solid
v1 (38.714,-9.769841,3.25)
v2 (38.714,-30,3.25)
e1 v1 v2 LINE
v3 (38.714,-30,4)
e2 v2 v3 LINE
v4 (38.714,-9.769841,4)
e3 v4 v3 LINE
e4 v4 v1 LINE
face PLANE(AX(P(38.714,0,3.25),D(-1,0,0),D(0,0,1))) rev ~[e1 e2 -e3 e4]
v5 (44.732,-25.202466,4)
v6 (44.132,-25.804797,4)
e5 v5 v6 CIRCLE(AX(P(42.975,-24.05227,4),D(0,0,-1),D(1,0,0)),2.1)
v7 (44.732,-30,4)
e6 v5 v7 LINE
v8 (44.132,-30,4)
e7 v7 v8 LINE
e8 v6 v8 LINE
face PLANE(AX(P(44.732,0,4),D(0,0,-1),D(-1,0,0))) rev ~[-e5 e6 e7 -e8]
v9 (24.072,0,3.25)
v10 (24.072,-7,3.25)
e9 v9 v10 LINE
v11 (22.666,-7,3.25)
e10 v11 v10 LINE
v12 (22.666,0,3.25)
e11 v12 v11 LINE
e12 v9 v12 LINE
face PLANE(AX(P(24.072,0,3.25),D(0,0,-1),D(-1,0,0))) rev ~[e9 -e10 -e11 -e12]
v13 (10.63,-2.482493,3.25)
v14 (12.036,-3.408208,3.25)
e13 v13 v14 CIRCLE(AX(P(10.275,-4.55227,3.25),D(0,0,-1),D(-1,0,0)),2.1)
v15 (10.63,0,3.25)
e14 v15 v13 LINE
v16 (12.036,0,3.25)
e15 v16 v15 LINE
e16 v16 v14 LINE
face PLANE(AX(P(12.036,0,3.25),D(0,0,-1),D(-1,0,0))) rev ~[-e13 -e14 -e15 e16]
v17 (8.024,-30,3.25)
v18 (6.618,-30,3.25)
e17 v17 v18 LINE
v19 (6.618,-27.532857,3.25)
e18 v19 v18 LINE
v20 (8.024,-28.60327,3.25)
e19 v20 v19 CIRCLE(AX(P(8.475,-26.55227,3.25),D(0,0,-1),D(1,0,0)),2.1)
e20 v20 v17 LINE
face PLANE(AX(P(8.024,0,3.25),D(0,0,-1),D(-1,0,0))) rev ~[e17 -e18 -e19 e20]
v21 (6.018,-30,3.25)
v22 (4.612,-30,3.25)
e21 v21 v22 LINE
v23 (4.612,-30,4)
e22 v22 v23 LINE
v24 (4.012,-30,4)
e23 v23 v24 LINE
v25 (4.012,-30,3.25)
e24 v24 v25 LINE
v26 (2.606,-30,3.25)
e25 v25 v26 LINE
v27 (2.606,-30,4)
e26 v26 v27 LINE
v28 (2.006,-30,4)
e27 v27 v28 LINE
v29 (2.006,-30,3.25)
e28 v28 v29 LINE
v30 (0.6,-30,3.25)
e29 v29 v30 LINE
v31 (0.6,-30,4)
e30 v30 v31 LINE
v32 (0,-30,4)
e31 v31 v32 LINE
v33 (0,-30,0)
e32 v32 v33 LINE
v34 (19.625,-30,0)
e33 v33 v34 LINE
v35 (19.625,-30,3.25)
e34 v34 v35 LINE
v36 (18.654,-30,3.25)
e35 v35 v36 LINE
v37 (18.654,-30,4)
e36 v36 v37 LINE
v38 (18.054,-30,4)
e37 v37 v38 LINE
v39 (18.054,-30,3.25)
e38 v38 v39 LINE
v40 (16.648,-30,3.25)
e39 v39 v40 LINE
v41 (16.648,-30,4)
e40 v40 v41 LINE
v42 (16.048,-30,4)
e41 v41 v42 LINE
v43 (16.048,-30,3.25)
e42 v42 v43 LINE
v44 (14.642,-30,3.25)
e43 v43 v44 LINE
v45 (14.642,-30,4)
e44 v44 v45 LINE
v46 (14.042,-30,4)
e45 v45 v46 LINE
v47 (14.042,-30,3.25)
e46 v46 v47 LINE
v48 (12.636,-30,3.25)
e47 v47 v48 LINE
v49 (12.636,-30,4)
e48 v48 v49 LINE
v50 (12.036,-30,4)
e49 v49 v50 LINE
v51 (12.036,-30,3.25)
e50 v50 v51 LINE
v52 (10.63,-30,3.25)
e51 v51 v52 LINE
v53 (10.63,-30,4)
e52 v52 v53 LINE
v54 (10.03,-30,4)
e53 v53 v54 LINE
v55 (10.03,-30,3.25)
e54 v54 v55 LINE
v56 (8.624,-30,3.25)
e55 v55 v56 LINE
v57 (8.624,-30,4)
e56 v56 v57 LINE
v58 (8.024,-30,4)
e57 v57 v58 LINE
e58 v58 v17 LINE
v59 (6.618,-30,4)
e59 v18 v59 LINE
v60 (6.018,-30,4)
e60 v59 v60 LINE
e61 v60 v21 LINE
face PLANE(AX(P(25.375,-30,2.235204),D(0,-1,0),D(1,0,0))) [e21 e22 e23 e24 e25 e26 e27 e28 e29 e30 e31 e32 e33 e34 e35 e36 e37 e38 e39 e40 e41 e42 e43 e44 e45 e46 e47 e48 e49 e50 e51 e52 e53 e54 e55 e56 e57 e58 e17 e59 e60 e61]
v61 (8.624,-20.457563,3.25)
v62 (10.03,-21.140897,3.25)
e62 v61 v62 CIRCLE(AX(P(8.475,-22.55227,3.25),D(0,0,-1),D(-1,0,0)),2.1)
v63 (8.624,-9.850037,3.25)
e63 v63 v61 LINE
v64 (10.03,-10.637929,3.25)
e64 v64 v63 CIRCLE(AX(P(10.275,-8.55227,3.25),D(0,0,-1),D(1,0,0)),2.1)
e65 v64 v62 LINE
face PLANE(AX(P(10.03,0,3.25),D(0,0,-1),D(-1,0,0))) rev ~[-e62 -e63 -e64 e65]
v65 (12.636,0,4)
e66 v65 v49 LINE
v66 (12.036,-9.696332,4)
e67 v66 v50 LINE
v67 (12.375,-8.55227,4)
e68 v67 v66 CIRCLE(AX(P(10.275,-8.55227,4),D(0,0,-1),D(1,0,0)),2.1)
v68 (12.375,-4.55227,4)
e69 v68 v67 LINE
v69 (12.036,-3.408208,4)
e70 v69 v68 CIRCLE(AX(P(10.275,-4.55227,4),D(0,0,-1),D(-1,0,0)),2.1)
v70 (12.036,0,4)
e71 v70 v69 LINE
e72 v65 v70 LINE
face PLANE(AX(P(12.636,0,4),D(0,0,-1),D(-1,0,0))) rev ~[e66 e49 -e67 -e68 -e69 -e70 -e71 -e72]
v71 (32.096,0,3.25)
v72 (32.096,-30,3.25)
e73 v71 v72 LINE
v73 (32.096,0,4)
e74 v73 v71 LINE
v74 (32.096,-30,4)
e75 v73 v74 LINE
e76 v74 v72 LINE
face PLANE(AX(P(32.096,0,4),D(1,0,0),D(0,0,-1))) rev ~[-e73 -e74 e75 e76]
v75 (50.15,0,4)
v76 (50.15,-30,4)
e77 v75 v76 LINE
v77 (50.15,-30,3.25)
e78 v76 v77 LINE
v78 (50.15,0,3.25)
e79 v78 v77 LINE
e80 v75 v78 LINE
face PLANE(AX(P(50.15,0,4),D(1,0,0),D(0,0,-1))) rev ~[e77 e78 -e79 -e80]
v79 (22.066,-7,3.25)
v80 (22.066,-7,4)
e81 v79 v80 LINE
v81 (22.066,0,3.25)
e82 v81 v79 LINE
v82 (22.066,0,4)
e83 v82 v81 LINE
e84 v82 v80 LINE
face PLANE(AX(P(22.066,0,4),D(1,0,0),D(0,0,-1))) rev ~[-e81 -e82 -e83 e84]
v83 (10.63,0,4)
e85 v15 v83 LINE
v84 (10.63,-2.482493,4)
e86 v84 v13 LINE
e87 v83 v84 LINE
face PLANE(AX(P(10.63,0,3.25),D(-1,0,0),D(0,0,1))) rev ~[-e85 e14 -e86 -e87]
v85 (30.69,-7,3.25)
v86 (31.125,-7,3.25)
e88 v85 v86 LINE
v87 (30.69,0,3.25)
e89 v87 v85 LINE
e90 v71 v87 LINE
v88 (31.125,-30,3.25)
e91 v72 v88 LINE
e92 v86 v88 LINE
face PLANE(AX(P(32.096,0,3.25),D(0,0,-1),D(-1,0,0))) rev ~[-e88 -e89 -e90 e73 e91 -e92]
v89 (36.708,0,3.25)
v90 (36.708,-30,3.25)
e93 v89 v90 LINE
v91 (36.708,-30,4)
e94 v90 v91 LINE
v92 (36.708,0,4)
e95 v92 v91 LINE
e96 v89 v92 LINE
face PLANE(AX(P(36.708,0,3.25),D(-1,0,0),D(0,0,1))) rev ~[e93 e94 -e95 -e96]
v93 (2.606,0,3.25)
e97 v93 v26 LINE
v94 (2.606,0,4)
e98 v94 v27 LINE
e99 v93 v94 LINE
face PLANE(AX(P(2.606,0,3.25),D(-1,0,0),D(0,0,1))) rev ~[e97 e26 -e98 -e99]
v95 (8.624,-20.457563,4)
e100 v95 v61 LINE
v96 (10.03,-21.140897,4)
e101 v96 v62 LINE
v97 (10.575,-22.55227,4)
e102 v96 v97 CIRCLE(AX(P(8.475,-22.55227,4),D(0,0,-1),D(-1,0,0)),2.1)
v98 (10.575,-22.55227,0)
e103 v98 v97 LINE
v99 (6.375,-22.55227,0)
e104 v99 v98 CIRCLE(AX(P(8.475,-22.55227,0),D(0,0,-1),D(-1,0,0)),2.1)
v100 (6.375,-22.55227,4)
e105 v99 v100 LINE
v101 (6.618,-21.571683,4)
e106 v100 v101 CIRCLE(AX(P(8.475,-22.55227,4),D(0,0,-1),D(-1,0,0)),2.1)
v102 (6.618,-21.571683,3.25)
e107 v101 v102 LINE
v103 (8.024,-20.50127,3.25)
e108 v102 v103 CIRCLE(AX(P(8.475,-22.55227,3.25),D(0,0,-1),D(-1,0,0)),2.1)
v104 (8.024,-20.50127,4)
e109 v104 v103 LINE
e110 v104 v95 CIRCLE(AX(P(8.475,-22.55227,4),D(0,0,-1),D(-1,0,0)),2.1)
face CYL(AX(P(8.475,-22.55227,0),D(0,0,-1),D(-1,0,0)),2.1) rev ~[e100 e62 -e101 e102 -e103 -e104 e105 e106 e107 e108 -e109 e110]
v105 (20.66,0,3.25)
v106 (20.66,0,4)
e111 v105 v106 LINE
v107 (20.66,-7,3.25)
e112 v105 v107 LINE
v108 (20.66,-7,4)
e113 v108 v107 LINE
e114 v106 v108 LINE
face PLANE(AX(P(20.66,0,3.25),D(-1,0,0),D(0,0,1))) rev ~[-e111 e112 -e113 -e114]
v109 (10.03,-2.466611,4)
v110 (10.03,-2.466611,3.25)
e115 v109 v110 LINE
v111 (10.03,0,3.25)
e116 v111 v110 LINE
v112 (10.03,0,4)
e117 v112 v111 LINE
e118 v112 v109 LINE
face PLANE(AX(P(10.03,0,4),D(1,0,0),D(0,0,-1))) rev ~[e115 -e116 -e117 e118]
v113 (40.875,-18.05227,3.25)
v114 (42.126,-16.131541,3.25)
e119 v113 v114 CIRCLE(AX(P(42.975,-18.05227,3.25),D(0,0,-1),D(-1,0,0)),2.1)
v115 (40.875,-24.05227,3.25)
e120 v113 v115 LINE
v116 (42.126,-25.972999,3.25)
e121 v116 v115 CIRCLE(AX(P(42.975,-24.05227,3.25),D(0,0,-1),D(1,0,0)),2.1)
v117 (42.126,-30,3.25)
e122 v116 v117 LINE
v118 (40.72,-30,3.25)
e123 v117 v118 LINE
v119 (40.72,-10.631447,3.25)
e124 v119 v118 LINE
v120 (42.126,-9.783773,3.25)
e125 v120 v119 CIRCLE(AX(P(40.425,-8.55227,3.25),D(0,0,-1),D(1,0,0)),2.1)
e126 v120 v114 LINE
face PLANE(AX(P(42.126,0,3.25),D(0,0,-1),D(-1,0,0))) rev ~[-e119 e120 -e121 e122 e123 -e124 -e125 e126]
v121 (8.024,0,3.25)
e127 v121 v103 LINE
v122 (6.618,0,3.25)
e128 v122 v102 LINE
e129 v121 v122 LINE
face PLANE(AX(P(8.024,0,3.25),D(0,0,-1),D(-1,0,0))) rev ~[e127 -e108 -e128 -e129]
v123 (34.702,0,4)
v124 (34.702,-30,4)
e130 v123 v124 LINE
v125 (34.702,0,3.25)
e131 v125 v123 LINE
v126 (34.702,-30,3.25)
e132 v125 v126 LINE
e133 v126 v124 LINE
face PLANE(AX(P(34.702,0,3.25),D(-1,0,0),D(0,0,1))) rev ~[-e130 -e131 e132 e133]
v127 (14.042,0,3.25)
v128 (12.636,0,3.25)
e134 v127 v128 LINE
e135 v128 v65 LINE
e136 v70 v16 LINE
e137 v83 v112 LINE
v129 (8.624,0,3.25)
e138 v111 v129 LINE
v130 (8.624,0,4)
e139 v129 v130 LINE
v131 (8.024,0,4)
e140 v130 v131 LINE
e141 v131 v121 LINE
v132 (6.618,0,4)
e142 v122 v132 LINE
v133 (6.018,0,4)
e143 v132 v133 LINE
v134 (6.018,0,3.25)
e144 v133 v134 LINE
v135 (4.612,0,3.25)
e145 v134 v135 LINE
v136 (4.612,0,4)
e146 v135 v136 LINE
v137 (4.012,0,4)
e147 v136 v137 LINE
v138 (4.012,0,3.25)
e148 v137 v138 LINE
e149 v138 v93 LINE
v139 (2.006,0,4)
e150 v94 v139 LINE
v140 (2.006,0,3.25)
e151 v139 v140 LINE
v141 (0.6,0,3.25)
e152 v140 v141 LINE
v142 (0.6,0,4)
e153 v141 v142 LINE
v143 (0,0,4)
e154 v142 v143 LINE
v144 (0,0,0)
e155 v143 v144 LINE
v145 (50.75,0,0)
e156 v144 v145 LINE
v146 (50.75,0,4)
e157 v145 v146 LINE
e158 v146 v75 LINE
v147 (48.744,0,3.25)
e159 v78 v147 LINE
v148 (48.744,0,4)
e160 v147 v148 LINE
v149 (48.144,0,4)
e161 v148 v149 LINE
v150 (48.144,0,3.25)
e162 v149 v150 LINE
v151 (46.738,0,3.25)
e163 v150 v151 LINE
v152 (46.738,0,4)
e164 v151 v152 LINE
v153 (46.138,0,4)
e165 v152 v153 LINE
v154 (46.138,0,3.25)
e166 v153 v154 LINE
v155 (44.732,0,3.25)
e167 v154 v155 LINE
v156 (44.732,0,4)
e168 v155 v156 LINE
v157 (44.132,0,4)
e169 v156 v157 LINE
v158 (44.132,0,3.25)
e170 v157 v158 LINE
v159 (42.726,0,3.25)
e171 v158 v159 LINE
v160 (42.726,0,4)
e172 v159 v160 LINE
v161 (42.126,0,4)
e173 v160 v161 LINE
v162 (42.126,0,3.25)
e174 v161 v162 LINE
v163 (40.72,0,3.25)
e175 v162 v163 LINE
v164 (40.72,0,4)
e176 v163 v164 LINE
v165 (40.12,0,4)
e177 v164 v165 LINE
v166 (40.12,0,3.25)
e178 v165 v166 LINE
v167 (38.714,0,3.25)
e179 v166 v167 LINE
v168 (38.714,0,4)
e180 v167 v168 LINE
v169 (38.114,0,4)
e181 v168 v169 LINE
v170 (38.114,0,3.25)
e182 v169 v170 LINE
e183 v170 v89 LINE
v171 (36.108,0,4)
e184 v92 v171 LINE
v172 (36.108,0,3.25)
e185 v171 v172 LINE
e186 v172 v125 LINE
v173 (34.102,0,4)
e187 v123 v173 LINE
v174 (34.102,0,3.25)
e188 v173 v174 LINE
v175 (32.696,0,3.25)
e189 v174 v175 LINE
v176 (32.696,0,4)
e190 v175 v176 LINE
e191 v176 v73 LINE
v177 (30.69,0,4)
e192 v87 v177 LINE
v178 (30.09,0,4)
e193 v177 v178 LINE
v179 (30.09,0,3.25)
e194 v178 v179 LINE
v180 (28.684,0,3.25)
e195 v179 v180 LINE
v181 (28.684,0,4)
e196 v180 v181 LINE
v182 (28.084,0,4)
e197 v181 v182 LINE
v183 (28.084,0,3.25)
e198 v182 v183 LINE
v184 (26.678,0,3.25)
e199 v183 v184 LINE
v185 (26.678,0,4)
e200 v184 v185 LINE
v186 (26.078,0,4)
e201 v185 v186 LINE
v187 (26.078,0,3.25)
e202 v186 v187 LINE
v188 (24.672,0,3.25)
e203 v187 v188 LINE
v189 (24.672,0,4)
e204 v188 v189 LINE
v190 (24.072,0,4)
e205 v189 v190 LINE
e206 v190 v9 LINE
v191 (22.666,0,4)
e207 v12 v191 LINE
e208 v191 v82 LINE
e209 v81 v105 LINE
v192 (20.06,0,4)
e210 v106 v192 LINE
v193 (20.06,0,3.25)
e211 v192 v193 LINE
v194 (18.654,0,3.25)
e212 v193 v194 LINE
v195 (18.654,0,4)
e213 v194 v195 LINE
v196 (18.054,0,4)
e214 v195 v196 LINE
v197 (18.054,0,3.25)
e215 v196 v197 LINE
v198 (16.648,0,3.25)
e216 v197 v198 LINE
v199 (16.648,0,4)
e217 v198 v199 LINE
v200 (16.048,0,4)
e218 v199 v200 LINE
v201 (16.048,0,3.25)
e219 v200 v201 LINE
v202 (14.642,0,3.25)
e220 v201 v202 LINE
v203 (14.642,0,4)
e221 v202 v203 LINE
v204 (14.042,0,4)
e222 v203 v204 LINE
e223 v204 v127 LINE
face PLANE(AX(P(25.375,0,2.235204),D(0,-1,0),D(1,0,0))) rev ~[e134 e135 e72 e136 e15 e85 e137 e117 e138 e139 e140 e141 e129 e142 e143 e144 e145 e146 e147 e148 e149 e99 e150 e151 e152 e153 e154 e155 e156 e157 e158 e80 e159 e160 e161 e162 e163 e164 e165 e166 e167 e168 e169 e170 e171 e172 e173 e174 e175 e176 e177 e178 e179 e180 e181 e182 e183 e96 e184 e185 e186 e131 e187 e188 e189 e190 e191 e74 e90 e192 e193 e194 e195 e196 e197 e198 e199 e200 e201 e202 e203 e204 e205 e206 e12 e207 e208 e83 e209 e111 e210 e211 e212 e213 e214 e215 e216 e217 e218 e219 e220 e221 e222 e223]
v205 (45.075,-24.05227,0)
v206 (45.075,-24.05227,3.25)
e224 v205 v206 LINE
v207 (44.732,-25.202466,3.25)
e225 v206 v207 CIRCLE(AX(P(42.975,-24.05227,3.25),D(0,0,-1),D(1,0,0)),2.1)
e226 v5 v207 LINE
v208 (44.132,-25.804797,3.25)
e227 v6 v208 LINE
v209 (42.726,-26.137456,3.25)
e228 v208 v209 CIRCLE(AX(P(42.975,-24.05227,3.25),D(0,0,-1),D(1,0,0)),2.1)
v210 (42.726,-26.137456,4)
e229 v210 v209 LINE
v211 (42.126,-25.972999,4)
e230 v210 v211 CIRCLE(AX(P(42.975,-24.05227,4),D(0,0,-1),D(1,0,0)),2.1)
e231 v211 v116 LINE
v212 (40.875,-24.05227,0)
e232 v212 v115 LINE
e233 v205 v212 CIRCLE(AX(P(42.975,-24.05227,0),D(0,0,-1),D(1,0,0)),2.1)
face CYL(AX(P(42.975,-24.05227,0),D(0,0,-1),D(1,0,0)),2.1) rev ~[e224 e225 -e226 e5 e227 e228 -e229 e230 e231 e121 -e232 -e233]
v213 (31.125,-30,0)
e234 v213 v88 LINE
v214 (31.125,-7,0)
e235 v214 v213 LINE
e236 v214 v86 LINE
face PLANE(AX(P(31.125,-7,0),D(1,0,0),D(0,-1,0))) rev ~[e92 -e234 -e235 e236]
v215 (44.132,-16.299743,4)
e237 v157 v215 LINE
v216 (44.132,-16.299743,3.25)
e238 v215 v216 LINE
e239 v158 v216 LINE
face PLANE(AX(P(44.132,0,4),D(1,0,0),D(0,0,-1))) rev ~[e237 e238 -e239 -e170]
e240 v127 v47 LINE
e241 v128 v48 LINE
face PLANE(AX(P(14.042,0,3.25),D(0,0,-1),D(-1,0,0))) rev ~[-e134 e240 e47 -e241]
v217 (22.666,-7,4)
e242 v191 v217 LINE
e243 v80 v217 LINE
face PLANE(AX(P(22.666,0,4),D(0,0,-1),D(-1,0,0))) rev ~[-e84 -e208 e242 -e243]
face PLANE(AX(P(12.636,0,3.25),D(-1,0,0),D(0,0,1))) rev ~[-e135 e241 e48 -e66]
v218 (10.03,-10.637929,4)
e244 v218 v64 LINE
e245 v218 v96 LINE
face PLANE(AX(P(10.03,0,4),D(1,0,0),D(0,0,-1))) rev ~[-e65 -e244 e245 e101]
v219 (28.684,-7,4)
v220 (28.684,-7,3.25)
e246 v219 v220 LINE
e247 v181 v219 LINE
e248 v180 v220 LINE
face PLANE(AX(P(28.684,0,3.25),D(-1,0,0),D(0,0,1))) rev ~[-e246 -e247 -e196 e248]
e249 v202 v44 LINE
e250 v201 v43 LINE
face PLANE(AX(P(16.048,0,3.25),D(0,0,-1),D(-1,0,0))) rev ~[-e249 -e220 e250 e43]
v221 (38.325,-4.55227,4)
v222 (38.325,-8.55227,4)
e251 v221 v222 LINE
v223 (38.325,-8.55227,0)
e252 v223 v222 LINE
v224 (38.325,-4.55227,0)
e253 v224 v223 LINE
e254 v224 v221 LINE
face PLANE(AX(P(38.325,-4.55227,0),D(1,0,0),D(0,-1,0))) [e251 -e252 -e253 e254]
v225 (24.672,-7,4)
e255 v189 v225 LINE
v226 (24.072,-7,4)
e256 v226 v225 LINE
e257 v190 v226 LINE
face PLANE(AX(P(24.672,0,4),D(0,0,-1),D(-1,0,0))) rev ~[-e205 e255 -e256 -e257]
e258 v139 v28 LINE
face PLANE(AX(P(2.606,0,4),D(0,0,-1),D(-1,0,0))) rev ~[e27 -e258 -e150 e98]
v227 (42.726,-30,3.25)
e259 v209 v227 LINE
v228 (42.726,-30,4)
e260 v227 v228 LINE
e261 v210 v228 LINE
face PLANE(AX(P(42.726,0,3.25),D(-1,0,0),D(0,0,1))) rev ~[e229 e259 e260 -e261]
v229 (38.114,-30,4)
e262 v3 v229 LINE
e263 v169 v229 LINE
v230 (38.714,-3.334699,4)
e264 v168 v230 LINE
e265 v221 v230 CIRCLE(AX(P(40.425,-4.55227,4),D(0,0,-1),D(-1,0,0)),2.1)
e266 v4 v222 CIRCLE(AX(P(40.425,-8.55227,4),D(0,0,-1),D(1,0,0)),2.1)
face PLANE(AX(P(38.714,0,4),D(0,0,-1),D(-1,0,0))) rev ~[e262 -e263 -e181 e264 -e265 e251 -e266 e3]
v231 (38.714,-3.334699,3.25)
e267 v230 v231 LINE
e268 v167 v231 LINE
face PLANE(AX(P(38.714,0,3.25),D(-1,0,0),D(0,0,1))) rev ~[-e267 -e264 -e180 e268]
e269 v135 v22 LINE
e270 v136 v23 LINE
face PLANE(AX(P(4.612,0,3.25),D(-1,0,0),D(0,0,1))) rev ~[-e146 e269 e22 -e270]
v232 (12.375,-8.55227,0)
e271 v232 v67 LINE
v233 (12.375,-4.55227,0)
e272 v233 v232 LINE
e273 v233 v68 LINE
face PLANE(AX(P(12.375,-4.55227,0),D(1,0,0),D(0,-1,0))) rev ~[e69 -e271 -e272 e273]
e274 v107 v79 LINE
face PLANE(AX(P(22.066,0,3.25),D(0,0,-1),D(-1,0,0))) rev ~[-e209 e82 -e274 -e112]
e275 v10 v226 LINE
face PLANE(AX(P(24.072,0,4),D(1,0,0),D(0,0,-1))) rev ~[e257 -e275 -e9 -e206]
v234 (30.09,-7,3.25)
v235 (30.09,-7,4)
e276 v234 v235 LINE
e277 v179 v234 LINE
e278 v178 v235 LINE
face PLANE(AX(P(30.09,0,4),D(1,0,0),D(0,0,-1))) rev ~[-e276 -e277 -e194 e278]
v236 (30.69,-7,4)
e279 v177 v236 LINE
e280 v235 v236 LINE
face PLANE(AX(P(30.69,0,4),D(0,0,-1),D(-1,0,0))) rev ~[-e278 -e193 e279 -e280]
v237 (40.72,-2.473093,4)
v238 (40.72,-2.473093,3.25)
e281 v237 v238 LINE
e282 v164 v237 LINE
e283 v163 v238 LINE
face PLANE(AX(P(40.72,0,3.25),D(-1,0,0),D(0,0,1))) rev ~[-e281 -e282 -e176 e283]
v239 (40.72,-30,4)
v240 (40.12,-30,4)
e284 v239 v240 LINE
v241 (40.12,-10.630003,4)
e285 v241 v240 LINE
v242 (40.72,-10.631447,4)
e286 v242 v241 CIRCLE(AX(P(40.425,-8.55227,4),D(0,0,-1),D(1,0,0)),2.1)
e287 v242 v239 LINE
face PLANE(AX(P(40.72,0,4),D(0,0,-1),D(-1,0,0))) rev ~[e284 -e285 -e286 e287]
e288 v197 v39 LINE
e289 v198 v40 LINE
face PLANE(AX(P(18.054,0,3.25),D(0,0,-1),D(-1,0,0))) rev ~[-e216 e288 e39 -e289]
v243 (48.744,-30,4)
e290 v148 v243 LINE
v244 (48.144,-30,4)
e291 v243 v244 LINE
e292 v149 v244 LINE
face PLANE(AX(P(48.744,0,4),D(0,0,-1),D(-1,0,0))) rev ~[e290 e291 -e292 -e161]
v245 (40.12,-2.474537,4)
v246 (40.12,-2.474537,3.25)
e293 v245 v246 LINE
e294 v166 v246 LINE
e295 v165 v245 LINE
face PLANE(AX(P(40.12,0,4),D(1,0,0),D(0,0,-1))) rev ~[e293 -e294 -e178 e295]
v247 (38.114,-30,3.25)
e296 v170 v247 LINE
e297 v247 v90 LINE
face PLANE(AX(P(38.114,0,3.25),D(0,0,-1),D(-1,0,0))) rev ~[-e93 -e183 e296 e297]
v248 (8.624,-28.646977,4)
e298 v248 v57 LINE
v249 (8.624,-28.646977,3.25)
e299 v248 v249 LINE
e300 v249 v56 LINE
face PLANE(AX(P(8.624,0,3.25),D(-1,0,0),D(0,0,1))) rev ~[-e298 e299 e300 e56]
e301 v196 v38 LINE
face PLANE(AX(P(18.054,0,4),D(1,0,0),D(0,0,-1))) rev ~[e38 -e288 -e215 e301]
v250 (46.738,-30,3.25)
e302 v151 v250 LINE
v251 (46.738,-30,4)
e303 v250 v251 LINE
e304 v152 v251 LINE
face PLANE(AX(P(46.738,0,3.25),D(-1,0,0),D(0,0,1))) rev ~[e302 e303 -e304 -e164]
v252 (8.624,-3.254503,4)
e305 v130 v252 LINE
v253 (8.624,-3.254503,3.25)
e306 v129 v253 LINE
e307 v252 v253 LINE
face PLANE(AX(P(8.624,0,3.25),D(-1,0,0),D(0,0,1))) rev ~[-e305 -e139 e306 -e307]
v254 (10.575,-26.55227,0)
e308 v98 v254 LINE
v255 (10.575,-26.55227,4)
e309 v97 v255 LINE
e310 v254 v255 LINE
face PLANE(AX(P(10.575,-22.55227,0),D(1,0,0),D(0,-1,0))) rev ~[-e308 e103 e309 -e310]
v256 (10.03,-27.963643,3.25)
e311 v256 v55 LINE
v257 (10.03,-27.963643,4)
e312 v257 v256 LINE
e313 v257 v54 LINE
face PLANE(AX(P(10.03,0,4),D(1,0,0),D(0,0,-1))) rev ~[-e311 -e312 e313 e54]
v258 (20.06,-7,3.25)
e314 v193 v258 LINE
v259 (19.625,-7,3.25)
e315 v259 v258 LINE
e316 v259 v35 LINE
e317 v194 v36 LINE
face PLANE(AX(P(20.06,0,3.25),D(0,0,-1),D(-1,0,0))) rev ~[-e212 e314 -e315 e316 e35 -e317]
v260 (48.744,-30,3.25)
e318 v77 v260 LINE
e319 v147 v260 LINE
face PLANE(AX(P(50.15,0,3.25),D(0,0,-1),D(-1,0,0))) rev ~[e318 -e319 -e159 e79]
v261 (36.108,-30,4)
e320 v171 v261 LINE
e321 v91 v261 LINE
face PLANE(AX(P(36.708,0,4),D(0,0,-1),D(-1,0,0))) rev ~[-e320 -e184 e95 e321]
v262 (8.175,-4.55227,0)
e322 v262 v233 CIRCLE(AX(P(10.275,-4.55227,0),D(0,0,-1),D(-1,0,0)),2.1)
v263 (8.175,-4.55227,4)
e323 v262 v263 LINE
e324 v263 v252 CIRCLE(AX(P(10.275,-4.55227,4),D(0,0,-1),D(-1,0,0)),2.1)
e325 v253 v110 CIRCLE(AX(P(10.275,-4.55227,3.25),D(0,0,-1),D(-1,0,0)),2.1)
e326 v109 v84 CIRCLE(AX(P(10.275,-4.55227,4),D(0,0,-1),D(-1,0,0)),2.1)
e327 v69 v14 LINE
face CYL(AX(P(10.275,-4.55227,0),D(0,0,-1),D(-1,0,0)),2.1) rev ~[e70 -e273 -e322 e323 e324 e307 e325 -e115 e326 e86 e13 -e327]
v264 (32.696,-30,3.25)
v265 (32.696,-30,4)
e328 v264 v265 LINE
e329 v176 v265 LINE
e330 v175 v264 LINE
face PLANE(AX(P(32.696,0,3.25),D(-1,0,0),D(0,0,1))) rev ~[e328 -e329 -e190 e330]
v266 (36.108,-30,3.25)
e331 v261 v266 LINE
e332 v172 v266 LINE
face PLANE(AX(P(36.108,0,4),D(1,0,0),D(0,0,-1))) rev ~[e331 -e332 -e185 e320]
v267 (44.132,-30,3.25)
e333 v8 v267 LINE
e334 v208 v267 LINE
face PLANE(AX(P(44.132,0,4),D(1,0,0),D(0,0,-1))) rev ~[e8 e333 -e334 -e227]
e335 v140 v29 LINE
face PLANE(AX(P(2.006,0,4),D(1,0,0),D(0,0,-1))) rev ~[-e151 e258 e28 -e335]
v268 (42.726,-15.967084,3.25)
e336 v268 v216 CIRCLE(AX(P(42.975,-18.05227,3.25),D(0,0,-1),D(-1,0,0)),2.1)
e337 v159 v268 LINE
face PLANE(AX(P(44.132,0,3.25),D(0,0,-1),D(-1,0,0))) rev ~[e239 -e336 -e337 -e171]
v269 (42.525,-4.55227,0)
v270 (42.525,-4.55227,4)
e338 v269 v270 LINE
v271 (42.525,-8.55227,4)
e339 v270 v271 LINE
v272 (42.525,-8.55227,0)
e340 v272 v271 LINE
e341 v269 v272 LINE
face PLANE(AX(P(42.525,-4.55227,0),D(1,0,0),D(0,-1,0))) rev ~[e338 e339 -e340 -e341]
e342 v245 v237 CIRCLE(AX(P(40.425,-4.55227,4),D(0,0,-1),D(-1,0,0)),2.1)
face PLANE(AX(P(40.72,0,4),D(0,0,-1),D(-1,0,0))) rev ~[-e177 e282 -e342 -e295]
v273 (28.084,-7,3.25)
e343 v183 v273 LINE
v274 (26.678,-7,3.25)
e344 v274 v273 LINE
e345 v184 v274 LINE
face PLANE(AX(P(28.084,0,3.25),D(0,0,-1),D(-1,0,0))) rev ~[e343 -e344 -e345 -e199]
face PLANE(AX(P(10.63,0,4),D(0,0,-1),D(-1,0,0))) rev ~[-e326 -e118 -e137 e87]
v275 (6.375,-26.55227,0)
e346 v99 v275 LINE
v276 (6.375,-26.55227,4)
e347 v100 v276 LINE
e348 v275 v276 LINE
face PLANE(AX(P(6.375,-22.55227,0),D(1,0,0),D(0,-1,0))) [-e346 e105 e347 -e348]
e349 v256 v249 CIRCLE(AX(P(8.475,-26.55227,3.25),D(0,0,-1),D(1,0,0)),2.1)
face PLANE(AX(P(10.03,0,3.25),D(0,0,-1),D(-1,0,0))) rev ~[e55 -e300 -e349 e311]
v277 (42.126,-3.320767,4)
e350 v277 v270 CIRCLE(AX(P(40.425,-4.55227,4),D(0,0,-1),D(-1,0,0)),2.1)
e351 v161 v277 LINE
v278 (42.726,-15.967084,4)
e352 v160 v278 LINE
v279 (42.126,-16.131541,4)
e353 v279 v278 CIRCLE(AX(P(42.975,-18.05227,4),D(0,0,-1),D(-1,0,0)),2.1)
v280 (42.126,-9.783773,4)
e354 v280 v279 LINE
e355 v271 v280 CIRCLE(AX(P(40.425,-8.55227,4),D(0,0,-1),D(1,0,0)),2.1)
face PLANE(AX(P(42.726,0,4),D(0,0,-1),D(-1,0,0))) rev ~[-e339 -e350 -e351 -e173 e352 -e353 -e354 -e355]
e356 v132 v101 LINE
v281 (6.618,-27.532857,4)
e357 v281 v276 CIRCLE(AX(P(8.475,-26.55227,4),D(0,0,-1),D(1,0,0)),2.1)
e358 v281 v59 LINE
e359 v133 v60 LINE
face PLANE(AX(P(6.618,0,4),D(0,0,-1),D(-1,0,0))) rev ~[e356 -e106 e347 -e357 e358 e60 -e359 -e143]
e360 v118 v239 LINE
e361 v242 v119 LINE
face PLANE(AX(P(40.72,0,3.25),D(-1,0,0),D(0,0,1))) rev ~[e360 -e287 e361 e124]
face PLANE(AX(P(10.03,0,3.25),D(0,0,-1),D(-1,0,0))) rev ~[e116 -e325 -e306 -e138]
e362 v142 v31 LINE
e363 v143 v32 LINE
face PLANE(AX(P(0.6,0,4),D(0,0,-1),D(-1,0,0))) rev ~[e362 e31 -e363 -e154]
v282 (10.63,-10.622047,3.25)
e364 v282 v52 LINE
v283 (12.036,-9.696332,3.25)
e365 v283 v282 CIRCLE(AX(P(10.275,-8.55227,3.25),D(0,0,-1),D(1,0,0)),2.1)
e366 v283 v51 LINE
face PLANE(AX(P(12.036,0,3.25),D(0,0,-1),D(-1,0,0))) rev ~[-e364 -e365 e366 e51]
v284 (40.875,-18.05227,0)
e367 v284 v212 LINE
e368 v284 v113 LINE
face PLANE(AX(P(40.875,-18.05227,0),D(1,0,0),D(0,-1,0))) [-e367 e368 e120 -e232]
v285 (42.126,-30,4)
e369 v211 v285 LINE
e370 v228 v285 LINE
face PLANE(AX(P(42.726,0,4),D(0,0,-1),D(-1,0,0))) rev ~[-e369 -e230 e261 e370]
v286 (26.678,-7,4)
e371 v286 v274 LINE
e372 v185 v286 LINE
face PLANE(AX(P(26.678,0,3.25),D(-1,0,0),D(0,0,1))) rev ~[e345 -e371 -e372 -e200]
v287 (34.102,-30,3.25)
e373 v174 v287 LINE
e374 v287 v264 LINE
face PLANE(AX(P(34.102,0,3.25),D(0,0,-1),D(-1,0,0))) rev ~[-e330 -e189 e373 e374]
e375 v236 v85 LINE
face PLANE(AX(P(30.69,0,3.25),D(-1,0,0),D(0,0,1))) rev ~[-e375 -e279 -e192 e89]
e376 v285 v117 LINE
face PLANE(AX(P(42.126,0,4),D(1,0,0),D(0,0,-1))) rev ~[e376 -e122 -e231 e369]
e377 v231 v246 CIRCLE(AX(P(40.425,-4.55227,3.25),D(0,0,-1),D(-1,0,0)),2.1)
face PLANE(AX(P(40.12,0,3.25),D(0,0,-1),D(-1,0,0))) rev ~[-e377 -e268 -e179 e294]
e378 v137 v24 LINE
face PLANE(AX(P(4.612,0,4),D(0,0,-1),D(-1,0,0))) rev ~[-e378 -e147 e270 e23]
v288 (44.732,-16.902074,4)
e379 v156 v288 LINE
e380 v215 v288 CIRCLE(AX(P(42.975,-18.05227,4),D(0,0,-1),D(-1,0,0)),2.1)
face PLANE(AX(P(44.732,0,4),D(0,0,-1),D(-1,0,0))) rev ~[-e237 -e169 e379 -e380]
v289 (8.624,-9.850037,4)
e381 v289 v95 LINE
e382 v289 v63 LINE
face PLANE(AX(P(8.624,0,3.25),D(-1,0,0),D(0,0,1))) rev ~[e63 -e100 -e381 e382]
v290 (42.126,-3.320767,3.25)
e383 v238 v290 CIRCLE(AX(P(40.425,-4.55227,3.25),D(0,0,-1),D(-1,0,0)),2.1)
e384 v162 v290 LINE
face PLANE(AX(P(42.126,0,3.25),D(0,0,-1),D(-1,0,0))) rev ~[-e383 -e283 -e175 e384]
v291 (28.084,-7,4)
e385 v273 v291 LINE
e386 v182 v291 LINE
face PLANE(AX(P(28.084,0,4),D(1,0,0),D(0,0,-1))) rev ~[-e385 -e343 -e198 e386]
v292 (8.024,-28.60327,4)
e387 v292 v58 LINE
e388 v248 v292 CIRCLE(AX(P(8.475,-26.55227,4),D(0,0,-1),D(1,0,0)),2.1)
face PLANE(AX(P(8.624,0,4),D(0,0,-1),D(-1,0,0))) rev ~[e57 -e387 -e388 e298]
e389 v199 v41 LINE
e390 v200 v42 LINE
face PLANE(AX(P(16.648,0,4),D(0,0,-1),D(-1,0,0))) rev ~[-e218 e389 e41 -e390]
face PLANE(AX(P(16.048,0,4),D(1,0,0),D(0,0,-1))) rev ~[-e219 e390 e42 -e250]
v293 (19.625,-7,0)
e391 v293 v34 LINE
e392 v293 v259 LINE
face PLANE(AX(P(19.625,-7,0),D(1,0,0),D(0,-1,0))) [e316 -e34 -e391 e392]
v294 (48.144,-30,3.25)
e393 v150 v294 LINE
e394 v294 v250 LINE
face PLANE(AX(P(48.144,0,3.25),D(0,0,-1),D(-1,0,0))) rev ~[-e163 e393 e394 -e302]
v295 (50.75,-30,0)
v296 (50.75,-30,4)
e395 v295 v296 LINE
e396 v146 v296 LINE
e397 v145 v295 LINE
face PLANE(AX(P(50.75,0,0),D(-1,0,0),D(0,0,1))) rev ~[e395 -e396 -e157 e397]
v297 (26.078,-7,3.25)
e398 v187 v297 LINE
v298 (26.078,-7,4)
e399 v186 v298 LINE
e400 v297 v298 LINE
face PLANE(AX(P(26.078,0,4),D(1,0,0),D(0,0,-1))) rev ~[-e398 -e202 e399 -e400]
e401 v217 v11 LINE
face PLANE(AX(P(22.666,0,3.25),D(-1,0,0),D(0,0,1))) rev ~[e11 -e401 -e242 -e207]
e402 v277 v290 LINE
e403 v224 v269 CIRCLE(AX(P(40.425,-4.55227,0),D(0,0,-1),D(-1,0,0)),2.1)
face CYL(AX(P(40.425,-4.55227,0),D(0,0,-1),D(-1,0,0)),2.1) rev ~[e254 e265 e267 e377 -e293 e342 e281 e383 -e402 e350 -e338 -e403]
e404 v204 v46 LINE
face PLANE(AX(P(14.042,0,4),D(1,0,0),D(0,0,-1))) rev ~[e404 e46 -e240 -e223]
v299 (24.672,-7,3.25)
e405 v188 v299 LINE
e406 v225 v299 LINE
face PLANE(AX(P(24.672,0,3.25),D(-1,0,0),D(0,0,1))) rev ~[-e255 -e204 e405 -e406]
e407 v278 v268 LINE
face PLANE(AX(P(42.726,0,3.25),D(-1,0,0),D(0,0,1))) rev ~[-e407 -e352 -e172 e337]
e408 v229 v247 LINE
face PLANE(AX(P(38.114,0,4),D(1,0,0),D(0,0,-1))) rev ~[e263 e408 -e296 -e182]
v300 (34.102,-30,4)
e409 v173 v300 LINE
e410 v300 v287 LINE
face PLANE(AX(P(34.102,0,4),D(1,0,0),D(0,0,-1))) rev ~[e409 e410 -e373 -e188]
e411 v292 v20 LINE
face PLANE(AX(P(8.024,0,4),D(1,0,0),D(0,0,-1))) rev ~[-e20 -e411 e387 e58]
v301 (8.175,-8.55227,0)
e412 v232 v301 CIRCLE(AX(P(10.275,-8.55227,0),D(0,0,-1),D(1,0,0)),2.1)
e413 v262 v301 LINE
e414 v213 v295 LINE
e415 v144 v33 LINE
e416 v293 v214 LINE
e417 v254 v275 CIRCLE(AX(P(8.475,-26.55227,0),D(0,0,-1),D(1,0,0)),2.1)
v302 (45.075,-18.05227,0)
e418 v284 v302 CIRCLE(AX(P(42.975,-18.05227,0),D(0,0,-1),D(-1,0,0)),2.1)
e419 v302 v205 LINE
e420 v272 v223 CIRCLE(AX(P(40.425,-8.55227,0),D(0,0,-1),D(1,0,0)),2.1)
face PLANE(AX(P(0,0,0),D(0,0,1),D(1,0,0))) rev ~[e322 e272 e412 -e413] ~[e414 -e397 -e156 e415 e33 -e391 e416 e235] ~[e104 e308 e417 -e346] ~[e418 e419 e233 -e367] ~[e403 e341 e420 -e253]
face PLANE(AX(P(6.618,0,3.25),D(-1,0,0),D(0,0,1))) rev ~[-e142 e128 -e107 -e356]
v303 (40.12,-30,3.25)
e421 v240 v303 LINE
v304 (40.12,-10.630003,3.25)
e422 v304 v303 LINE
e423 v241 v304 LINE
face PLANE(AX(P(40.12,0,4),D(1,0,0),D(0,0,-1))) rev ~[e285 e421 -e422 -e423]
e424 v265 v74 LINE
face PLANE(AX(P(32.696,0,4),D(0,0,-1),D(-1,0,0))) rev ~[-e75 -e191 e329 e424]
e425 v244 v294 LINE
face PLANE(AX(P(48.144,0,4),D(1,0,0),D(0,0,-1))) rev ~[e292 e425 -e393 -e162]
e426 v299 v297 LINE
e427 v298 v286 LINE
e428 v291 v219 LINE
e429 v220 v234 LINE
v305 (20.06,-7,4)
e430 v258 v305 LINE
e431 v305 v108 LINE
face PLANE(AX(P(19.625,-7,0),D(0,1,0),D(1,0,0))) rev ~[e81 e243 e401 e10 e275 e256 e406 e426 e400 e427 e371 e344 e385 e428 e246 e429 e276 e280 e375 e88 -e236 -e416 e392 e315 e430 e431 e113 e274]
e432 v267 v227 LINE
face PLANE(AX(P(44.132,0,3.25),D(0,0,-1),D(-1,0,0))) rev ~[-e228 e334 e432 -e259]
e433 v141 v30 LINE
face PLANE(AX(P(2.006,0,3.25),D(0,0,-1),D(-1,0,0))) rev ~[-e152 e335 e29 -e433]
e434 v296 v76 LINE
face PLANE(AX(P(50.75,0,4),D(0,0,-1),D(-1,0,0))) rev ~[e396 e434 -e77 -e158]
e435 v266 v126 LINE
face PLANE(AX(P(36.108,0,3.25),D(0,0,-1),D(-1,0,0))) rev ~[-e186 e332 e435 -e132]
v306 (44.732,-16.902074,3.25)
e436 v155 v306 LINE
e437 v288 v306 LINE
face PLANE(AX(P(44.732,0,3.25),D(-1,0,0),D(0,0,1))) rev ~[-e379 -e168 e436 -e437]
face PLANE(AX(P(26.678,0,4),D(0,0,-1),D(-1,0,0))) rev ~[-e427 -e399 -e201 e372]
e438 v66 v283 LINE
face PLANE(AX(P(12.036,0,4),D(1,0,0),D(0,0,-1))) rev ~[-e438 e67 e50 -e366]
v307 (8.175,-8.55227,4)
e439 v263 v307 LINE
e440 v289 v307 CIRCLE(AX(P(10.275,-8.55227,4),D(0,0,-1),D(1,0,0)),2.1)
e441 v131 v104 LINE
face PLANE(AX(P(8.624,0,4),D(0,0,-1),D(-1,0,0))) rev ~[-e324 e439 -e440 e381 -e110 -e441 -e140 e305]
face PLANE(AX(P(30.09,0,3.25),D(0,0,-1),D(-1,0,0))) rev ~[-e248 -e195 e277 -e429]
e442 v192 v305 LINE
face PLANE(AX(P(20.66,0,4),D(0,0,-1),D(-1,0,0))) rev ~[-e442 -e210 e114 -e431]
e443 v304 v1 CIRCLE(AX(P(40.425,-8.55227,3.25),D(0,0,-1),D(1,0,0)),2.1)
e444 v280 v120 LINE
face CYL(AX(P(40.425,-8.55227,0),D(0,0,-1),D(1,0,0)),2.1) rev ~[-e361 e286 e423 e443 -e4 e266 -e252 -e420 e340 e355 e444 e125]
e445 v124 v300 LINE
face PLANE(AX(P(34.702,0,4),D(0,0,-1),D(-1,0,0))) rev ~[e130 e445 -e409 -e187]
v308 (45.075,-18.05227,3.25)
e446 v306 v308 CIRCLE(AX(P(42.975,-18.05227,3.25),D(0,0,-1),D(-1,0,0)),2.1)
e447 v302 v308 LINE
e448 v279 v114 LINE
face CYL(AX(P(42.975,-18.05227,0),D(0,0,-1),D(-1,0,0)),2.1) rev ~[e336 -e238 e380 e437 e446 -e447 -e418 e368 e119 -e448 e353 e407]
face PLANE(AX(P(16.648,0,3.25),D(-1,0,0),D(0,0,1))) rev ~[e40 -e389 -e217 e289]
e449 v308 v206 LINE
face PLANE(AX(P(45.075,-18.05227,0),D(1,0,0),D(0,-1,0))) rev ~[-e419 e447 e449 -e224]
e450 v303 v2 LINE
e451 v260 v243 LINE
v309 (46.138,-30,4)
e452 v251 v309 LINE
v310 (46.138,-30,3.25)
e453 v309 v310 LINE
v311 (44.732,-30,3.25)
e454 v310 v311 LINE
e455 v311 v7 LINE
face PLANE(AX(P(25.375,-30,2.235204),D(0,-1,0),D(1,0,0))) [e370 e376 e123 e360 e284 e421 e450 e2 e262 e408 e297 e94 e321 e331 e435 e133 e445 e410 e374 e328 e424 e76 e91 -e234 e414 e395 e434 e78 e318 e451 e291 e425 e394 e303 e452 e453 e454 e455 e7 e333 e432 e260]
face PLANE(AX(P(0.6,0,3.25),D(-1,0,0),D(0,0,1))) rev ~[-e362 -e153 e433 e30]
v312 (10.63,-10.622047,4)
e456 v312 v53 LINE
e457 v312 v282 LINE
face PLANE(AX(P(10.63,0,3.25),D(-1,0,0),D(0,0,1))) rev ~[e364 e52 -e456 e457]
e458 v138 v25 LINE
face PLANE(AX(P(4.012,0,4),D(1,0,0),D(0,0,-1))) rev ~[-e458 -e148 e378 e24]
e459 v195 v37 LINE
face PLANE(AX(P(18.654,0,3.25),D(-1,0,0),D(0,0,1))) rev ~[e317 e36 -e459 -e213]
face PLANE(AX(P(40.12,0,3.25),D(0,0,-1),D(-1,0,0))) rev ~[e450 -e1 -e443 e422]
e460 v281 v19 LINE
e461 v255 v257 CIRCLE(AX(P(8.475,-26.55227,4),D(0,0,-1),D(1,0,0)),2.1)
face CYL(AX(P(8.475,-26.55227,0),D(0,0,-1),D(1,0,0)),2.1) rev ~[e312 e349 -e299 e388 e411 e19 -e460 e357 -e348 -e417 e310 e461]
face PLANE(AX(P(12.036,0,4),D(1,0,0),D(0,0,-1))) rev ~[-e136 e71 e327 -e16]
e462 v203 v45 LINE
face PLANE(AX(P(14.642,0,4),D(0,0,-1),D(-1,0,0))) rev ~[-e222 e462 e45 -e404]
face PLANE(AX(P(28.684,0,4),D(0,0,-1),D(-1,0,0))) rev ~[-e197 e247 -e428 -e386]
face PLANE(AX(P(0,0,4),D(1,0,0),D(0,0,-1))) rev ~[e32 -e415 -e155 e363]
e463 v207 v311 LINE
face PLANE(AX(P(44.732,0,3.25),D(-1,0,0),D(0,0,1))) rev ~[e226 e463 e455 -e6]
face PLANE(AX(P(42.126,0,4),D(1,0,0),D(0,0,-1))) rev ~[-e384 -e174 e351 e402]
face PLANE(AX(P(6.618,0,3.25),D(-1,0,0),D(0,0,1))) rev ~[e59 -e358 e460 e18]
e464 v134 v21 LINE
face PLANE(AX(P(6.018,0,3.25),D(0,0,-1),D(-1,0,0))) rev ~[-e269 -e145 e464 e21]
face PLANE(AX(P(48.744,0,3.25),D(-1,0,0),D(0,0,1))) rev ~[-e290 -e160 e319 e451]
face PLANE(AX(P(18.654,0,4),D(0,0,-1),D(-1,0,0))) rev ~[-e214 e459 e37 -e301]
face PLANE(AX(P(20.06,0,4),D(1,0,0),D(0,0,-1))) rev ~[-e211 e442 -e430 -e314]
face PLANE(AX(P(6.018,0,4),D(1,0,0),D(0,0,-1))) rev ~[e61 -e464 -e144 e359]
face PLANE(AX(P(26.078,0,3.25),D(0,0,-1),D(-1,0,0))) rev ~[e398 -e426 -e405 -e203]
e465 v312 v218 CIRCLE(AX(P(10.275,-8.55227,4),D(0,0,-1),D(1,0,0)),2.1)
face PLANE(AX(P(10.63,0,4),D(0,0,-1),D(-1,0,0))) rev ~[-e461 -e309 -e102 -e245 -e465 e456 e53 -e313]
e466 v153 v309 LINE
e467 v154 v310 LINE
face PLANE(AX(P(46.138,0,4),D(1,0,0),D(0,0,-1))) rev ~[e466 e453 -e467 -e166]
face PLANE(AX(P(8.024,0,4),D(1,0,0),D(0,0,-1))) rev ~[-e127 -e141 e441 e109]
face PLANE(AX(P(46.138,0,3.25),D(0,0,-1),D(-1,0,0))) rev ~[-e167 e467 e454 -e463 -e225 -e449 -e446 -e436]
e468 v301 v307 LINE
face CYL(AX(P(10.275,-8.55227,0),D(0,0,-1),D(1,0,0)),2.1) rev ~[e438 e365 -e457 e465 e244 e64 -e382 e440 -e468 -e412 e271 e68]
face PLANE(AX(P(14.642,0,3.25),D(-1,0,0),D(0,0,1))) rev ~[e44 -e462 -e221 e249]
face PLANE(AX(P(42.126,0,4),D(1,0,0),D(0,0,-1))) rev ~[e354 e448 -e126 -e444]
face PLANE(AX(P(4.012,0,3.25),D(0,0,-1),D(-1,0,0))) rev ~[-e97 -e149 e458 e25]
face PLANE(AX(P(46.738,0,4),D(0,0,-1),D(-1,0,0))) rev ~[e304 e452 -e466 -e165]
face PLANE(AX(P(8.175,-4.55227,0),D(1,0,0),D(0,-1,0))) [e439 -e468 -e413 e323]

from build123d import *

# Parameters (mm, degrees)
F1_DEPTH = 30
F2_W     = 5.75
F2_H     = 23
F3_DEPTH = 4
F2_W_2   = 4.2
F2_H_2   = 4
F2_H_3   = 6
F4_DEPTH = 4


with BuildPart() as f1:
    # F0 (on Front) → F1 (new body)
    with BuildSketch(Plane.XZ):
        Polygon((0, 4), (0, 0), (50.75, 0), (50.75, 3.25), (50.75, 4), (50.15, 4), (50.15, 3.25), (48.744, 3.25), (48.744, 4), (48.144, 4), (48.144, 3.25), (46.738, 3.25), (46.738, 4), (46.138, 4), (46.138, 3.25), (44.732, 3.25), (44.732, 4), (44.132, 4), (44.132, 3.25), (42.726, 3.25), (42.726, 4), (42.126, 4), (42.126, 3.25), (40.72, 3.25), (40.72, 4), (40.12, 4), (40.12, 3.25), (38.714, 3.25), (38.714, 4), (38.114, 4), (38.114, 3.25), (36.708, 3.25), (36.708, 4), (36.108, 4), (36.108, 3.25), (34.702, 3.25), (34.702, 4), (34.102, 4), (34.102, 3.25), (32.696, 3.25), (32.696, 4), (32.096, 4), (32.096, 3.25), (30.69, 3.25), (30.69, 4), (30.09, 4), (30.09, 3.25), (28.684, 3.25), (28.684, 4), (28.084, 4), (28.084, 3.25), (26.678, 3.25), (26.678, 4), (26.078, 4), (26.078, 3.25), (24.672, 3.25), (24.672, 4), (24.072, 4), (24.072, 3.25), (22.666, 3.25), (22.666, 4), (22.066, 4), (22.066, 3.25), (20.66, 3.25), (20.66, 4), (20.06, 4), (20.06, 3.25), (18.654, 3.25), (18.654, 4), (18.054, 4), (18.054, 3.25), (16.648, 3.25), (16.648, 4), (16.048, 4), (16.048, 3.25), (14.642, 3.25), (14.642, 4), (14.042, 4), (14.042, 3.25), (12.636, 3.25), (12.636, 4), (12.036, 4), (12.036, 3.25), (10.63, 3.25), (10.63, 4), (10.03, 4), (10.03, 3.25), (8.624, 3.25), (8.624, 4), (8.324, 4), (8.024, 4), (8.024, 3.25), (6.618, 3.25), (6.618, 4), (6.318, 4), (6.018, 4), (6.018, 3.25), (4.612, 3.25), (4.612, 4), (4.012, 4), (4.012, 3.25), (2.606, 3.25), (2.606, 4), (2.006, 4), (2.006, 3.25), (0.6, 3.25), (0.6, 4), align=None)
    extrude(amount=F1_DEPTH)

    # F2 (on face) → F3 (cut, through all)
    with BuildSketch(Plane(origin=(0, 0, 0), x_dir=(1, 0, 0), z_dir=(0, 0, -1))):
        with Locations((22.5, 18.5)):
            Rectangle(F2_W, F2_H)
        with Locations((28.25, 18.5)):
            Rectangle(F2_W, F2_H)
    extrude(amount=-F3_DEPTH, mode=Mode.SUBTRACT)

    # F2 (on face) → F4 (cut, through all)
    with BuildSketch(Plane(origin=(0, 0, 0), x_dir=(1, 0, 0), z_dir=(0, 0, -1))):
        with BuildLine():
            ThreePointArc((12.375, 8.55227), (10.275, 10.65227), (8.175, 8.55227))
            Line((8.175, 8.55227), (12.375, 8.55227))
        make_face()
        with Locations((10.275, 6.55227)):
            Rectangle(F2_W_2, F2_H_2)
        with BuildLine():
            Line((12.375, 4.55227), (8.175, 4.55227))
            ThreePointArc((8.175, 4.55227), (10.275, 2.45227), (12.375, 4.55227))
        make_face()
        with BuildLine():
            ThreePointArc((42.525, 8.55227), (40.425, 10.65227), (38.325, 8.55227))
            Line((38.325, 8.55227), (42.525, 8.55227))
        make_face()
        with Locations((40.425, 6.55227)):
            Rectangle(F2_W_2, F2_H_2)
        with BuildLine():
            Line((42.525, 4.55227), (38.325, 4.55227))
            ThreePointArc((38.325, 4.55227), (40.425, 2.45227), (42.525, 4.55227))
        make_face()
        with BuildLine():
            ThreePointArc((10.575, 26.55227), (8.475, 28.65227), (6.375, 26.55227))
            Line((6.375, 26.55227), (10.575, 26.55227))
        make_face()
        with Locations((8.475, 24.55227)):
            Rectangle(F2_W_2, F2_H_2)
        with BuildLine():
            Line((10.575, 22.55227), (6.375, 22.55227))
            ThreePointArc((6.375, 22.55227), (8.475, 20.45227), (10.575, 22.55227))
        make_face()
        with BuildLine():
            ThreePointArc((45.075, 24.05227), (42.975, 26.15227), (40.875, 24.05227))
            Line((40.875, 24.05227), (45.075, 24.05227))
        make_face()
        with Locations((42.975, 21.05227)):
            Rectangle(F2_W_2, F2_H_3)
        with BuildLine():
            Line((45.075, 18.05227), (40.875, 18.05227))
            ThreePointArc((40.875, 18.05227), (42.975, 15.95227), (45.075, 18.05227))
        make_face()
    extrude(amount=-F4_DEPTH, mode=Mode.SUBTRACT)


solid = f1.part
